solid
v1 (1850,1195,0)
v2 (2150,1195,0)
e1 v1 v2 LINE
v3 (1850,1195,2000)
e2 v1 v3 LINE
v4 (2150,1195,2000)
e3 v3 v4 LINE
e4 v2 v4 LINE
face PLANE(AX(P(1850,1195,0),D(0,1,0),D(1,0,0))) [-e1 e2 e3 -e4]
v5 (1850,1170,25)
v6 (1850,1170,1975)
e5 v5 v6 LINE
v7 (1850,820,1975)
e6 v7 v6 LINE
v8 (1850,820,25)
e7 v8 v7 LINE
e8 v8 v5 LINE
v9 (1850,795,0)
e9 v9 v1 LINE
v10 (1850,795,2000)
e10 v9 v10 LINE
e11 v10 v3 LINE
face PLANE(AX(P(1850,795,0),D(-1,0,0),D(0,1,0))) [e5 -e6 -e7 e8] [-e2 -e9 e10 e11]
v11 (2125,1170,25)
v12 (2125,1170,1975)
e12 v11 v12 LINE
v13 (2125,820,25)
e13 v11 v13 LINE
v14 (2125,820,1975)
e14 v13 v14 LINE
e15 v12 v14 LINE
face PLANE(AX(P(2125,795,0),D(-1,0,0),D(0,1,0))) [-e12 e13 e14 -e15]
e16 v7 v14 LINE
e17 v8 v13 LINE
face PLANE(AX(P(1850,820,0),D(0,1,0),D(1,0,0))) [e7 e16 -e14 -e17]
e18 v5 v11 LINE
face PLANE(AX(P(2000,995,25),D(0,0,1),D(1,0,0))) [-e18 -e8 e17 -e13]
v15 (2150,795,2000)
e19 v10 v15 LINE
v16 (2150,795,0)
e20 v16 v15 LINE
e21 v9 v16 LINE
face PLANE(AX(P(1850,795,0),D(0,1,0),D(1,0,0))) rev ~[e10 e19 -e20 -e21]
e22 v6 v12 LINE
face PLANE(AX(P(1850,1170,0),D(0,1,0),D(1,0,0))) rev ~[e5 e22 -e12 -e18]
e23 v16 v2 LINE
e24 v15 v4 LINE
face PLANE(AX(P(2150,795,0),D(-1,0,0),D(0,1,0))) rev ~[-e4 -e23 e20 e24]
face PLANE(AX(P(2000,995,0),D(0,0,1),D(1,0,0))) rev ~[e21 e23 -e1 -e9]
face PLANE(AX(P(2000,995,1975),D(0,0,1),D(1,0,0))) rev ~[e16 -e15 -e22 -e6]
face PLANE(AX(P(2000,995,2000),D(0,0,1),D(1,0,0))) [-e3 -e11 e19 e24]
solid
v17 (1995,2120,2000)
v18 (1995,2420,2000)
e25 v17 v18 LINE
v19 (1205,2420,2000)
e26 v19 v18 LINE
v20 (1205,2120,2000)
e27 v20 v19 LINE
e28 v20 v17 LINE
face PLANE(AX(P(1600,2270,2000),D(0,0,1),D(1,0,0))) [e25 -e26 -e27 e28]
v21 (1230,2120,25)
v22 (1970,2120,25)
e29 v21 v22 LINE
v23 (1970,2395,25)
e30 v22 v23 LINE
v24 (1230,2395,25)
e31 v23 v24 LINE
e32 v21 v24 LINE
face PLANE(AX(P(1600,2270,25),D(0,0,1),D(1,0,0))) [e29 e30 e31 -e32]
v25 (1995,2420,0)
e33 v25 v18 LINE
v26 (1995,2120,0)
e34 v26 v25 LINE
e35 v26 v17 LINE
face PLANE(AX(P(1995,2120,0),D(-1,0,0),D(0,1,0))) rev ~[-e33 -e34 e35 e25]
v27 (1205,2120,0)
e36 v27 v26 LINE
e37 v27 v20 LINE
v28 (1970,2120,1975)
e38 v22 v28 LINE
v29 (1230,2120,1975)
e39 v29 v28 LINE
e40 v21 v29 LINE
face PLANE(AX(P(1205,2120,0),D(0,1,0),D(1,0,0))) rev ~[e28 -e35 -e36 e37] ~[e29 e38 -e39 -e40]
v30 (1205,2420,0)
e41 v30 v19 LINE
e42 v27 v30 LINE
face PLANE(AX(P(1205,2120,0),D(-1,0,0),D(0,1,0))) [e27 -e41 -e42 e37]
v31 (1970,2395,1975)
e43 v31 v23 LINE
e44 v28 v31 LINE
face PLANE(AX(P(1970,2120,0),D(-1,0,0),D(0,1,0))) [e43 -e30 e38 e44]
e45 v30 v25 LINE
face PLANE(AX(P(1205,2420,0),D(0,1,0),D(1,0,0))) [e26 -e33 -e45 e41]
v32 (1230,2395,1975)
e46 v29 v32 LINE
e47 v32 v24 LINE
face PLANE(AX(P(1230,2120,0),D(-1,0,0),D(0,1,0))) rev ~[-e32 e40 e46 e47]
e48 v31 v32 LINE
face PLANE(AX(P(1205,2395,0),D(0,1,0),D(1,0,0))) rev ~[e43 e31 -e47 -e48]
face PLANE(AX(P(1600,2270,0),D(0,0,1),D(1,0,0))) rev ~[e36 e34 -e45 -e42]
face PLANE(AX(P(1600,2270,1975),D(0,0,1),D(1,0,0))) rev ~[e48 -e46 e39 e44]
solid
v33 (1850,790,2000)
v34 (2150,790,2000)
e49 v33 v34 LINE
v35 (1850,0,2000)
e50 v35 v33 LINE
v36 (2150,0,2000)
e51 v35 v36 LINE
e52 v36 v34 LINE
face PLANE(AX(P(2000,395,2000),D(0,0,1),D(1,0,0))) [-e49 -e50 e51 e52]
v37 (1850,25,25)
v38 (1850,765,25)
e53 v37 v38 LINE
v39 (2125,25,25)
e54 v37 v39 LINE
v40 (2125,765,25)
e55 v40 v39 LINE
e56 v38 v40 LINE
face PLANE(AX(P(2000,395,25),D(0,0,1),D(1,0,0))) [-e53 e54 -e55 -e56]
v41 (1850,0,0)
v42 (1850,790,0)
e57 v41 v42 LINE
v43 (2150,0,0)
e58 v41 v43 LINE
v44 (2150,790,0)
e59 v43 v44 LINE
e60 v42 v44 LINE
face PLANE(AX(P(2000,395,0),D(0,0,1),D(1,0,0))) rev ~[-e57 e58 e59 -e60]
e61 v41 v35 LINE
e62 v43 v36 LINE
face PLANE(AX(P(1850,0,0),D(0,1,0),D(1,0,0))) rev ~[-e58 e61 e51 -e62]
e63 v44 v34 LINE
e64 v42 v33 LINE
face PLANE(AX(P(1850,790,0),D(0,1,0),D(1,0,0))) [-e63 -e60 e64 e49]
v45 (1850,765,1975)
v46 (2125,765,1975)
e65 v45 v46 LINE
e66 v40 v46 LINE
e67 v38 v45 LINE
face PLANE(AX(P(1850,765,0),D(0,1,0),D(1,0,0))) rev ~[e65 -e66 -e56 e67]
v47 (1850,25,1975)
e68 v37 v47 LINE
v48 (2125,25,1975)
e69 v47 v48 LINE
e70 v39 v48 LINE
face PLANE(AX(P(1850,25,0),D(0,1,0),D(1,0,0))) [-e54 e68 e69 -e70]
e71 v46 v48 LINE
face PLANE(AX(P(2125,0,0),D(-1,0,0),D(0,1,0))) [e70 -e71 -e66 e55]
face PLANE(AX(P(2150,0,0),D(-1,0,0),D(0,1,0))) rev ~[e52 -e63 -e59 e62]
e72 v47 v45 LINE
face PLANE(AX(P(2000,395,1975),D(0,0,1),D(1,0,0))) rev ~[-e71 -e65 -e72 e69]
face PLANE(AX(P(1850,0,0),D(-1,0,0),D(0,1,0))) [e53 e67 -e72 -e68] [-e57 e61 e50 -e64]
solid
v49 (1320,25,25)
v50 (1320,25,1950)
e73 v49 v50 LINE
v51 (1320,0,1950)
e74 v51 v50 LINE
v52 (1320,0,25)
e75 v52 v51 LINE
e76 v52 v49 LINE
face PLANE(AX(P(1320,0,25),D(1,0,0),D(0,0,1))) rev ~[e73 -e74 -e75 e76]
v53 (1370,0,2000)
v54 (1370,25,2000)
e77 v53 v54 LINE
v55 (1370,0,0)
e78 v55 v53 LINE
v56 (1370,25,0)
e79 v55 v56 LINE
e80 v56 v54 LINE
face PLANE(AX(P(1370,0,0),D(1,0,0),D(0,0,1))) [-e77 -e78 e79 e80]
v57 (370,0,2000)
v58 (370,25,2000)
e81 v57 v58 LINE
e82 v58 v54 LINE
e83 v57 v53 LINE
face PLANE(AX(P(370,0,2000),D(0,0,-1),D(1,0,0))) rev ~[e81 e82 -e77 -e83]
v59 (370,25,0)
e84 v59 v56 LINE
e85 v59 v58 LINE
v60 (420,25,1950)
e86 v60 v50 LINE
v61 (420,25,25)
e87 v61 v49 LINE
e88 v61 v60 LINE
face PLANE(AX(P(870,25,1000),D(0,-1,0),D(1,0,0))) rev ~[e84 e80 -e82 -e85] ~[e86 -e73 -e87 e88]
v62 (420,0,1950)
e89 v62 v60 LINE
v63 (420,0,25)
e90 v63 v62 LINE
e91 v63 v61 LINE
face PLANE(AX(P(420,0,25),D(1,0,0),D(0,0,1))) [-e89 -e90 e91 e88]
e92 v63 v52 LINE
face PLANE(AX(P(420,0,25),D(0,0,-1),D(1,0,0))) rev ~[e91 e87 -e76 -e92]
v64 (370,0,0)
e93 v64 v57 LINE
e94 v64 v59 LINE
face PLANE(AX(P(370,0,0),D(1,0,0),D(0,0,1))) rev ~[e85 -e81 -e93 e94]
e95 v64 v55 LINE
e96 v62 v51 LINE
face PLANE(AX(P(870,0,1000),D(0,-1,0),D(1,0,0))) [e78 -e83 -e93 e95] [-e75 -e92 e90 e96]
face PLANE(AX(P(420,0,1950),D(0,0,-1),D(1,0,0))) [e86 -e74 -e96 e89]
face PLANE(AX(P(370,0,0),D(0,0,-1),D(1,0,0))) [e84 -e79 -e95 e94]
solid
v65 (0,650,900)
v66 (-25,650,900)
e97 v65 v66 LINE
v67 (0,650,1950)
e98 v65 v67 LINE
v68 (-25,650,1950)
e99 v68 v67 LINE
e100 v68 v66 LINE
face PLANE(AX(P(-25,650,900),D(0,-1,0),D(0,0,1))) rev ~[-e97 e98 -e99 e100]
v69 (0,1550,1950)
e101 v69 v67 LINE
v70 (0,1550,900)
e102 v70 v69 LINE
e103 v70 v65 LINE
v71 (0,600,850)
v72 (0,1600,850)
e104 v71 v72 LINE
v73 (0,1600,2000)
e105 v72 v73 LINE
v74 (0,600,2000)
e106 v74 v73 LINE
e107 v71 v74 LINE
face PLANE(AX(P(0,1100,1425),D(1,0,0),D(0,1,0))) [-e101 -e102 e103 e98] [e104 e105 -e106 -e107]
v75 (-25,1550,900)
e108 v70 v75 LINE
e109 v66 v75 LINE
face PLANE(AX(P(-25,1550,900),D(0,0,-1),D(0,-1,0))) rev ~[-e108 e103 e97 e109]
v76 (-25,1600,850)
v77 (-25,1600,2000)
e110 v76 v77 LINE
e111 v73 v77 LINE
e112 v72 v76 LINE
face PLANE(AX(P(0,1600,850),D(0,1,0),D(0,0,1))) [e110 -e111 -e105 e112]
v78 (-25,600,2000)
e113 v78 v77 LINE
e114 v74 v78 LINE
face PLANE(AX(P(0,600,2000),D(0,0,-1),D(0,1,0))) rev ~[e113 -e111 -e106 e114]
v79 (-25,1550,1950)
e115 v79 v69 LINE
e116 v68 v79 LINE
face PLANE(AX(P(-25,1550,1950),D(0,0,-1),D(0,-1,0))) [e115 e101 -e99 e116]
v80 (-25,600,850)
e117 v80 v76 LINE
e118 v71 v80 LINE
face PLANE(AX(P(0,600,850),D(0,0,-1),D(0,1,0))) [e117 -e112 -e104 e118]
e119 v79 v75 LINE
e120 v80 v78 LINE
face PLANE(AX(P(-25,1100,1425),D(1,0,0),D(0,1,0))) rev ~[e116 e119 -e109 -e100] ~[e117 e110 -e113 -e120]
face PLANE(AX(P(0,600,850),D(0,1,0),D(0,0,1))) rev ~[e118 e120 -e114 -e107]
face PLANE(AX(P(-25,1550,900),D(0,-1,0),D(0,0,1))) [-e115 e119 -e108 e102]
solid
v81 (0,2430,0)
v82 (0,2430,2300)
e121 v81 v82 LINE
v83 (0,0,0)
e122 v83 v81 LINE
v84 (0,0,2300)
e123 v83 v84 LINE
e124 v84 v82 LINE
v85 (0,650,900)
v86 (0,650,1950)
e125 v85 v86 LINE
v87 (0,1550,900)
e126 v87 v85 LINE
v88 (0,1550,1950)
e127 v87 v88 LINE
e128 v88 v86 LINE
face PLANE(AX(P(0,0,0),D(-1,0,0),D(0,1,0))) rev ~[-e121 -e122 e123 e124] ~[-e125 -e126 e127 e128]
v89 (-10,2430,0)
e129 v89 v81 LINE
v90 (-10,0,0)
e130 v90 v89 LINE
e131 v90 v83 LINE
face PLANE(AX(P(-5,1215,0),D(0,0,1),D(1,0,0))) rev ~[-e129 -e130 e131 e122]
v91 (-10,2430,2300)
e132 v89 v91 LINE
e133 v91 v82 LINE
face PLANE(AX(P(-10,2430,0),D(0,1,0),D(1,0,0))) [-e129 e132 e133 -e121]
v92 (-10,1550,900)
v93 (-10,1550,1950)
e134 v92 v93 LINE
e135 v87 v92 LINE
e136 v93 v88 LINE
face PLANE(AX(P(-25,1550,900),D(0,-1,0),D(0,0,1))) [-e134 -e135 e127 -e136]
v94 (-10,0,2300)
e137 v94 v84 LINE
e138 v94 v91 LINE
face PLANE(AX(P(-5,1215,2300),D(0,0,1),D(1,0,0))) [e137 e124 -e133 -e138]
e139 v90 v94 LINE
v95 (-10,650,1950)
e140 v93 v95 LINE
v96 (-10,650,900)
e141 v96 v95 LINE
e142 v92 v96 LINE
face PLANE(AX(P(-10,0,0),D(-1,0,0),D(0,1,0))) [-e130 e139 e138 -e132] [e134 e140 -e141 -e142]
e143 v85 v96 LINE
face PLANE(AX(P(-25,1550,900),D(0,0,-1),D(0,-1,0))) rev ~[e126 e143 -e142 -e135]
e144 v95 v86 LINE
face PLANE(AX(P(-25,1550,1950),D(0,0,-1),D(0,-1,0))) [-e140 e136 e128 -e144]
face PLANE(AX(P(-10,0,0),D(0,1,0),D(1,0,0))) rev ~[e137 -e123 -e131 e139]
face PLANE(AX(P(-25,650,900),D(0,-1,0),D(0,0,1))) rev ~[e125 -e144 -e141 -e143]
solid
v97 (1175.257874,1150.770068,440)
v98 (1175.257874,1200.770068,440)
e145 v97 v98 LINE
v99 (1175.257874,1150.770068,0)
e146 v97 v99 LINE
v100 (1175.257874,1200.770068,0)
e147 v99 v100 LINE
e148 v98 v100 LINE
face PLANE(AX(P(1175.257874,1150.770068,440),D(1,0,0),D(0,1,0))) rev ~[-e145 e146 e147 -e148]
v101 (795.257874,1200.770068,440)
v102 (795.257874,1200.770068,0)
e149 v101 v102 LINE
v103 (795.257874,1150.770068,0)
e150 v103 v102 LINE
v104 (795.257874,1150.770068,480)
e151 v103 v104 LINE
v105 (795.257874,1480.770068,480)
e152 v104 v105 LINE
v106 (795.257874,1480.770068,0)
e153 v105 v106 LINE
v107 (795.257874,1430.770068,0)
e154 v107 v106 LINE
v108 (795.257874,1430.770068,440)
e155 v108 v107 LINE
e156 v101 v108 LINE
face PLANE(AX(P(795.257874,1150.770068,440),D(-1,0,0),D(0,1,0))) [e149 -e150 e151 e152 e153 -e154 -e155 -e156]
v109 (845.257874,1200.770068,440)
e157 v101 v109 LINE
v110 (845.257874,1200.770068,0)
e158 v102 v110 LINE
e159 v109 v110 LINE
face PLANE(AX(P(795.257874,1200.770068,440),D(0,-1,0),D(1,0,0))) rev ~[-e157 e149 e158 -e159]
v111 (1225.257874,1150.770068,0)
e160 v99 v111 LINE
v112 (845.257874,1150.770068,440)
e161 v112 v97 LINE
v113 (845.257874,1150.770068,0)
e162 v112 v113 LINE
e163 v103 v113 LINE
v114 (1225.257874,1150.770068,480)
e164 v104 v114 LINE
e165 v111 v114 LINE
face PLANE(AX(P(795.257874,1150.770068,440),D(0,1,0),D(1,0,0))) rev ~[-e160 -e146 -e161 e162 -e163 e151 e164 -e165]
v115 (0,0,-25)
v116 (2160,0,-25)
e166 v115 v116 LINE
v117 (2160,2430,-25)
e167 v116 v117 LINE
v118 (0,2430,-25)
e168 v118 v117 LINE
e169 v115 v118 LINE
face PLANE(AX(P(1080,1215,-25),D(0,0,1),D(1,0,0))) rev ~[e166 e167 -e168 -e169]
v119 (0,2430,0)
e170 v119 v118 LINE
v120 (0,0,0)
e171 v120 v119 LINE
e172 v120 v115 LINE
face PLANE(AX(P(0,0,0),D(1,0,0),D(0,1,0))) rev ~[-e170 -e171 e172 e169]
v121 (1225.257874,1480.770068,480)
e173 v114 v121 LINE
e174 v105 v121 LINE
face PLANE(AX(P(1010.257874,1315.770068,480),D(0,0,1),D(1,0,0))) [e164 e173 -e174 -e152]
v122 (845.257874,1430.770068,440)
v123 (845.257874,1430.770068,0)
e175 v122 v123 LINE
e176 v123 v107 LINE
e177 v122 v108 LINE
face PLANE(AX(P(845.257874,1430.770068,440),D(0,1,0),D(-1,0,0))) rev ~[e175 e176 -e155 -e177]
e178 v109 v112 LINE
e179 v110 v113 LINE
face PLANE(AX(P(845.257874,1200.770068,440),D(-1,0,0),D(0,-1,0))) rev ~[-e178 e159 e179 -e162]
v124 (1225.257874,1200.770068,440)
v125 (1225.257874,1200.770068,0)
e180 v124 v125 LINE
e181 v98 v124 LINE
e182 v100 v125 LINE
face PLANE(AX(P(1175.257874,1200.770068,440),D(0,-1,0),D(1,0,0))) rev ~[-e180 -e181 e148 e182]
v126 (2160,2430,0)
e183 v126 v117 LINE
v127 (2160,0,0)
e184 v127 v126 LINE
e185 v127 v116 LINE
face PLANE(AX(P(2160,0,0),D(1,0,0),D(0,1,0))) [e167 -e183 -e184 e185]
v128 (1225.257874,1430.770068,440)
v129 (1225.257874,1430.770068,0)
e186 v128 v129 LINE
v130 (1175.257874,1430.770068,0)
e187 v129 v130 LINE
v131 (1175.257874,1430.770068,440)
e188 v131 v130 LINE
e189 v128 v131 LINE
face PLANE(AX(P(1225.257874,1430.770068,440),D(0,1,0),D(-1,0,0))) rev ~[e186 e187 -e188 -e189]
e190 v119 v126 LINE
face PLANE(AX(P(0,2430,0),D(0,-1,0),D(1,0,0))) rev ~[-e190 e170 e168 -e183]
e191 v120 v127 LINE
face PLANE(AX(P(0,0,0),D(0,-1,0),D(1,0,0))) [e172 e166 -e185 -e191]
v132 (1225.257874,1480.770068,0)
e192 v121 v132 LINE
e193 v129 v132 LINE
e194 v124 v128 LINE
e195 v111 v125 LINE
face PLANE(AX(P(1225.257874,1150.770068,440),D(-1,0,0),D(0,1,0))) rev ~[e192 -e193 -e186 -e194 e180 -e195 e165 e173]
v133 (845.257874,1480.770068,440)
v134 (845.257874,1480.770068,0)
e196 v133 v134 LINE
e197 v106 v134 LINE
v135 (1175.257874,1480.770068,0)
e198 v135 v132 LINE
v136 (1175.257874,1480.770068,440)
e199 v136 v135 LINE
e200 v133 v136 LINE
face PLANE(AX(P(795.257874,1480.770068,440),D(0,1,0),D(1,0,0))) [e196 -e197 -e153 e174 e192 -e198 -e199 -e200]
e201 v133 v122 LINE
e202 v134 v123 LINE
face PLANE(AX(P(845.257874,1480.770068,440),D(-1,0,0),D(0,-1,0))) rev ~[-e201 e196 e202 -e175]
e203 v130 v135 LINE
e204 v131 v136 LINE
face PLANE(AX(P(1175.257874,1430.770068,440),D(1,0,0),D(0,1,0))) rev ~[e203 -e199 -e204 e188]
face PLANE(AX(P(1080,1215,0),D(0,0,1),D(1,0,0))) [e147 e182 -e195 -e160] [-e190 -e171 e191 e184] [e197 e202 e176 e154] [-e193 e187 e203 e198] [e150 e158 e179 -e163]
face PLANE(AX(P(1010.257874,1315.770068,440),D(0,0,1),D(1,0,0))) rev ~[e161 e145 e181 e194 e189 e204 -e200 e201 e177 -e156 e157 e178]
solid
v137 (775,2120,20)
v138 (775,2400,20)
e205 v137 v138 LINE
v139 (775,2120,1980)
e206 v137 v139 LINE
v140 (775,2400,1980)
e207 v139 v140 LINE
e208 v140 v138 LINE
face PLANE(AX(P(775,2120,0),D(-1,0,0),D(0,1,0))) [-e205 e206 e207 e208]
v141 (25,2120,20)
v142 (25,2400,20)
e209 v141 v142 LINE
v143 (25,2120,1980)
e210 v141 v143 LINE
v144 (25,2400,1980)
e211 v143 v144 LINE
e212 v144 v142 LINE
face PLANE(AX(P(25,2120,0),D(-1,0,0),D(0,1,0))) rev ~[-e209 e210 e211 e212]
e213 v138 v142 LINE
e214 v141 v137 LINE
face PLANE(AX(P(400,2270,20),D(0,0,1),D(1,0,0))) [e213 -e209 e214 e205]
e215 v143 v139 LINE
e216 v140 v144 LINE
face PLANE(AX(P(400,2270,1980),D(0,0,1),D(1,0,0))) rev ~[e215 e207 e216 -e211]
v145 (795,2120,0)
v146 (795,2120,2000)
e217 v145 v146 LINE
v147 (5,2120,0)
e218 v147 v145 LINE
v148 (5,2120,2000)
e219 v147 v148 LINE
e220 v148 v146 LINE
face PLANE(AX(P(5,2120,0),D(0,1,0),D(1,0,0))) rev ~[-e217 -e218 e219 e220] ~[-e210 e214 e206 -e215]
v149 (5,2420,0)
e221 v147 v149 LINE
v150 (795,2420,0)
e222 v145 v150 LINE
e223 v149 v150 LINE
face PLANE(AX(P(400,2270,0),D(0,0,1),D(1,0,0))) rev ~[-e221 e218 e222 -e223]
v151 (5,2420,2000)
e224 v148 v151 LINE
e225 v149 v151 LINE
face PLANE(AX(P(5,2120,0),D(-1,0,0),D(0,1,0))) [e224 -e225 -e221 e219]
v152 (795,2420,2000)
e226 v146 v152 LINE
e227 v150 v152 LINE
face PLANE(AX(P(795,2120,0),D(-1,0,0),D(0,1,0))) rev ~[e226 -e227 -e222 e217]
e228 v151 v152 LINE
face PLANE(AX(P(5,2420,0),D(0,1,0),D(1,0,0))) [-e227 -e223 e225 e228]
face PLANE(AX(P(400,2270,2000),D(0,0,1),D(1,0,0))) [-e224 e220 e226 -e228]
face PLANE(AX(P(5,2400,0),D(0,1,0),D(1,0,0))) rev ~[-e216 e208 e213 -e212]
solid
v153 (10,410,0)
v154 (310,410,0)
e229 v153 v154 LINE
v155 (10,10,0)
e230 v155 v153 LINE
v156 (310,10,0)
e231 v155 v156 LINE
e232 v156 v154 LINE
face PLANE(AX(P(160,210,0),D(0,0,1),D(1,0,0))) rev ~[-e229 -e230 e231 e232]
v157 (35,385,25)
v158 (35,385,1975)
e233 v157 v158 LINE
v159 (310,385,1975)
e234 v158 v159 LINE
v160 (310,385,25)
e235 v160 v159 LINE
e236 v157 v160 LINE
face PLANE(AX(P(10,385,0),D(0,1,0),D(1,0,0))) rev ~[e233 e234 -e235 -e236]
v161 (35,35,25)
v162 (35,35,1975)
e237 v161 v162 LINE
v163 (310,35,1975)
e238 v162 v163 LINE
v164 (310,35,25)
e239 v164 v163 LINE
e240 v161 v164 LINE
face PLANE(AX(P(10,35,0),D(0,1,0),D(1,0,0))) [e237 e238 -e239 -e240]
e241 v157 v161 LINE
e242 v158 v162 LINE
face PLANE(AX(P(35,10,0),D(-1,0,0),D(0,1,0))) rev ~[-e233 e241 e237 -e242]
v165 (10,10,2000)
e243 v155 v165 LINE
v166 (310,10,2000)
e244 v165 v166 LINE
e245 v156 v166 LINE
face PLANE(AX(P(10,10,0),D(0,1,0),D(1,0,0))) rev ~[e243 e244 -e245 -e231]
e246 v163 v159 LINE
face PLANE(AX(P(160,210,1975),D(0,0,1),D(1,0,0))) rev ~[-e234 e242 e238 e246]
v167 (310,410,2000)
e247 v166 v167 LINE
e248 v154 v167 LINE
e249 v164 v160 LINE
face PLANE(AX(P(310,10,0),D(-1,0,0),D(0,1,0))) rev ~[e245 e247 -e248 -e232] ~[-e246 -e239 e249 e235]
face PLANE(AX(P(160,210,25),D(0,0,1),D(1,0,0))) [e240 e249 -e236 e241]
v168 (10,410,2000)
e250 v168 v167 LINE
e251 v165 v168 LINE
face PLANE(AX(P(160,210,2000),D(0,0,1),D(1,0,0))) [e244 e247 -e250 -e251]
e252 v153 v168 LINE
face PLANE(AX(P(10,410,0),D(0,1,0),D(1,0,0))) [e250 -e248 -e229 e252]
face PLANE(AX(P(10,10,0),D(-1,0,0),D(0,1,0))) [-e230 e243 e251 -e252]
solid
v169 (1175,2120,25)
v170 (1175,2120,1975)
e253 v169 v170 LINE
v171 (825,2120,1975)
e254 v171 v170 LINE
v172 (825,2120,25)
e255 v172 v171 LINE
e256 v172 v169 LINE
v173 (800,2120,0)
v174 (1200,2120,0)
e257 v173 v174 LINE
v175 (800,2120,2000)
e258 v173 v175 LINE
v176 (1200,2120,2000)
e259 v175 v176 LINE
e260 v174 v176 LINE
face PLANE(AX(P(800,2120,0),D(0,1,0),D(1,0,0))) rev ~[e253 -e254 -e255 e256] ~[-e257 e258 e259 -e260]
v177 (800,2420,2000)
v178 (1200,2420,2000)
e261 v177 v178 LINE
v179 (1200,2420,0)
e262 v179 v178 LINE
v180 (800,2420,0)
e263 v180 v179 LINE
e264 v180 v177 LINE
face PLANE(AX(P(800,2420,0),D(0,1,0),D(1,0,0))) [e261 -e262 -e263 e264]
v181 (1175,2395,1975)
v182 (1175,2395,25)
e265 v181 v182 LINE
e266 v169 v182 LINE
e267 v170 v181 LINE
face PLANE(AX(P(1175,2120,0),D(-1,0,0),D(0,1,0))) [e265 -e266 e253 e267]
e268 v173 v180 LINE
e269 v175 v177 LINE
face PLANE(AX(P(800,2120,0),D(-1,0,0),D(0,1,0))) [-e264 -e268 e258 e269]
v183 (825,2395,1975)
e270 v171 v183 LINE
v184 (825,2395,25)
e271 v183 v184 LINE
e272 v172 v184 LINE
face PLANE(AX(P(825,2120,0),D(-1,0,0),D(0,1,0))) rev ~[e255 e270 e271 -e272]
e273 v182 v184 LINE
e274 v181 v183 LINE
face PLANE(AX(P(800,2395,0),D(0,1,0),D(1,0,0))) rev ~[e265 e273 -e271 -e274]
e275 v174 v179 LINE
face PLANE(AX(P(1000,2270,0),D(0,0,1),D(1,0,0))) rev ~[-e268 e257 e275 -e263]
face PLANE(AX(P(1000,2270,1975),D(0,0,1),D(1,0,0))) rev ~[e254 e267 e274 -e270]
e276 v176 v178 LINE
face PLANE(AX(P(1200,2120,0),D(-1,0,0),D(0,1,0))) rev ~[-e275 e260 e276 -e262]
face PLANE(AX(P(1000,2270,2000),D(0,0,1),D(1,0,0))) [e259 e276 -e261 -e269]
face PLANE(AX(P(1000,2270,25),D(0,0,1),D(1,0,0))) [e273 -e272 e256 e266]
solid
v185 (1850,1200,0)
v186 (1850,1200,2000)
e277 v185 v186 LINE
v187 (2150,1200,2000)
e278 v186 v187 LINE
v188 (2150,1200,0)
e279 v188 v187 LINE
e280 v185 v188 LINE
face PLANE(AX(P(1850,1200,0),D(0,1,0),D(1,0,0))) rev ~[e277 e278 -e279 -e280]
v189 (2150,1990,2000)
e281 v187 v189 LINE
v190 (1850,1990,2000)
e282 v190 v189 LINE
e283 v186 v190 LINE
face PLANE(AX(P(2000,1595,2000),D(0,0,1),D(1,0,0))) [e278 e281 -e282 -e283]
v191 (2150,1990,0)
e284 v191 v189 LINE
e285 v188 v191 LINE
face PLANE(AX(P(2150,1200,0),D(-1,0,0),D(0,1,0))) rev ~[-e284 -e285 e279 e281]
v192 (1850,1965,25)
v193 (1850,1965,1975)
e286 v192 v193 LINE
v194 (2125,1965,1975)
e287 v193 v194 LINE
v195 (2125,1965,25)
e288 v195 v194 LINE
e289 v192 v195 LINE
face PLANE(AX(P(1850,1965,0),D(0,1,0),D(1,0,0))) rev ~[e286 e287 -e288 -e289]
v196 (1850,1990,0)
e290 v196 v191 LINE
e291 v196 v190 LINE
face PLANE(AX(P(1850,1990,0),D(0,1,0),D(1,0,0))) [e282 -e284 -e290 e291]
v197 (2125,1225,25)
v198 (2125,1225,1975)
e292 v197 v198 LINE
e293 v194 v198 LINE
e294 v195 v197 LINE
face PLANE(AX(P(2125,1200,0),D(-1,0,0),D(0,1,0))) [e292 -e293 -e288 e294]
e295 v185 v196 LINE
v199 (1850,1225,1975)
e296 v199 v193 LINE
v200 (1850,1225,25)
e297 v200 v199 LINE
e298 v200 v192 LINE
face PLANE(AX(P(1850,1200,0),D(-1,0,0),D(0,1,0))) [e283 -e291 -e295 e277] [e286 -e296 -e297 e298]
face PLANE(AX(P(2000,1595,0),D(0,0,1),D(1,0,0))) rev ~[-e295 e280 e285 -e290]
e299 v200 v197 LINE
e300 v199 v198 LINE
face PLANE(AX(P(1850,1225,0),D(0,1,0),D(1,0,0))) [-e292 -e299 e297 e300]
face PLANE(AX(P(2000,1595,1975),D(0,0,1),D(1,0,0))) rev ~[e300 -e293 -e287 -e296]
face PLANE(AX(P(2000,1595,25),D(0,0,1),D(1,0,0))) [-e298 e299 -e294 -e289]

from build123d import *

# Parameters (mm, degrees)
F3_W      = 790
F3_H      = 300
F4_DEPTH  = 2000
F2_W      = 400
F2_H      = 300
F5_DEPTH  = 2000
F1_W      = 300
F1_H      = 790
F6_DEPTH  = 2000
F7_W      = 300
F7_H      = 400
F8_DEPTH  = 2000
F9_W      = 300
F9_H      = 790
F10_DEPTH = 2000
F11_T     = -20
F12_T     = -25
F13_W     = 300
F13_H     = 400
F14_DEPTH = 2000
F15_T     = -25
F17_W     = 10
F17_H     = 2430
F18_DEPTH = 2300
F16_W     = 1000
F16_H     = 2000
F19_DEPTH = 25
F20_W     = 1000
F20_H     = 1150
F21_DEPTH = 25
F22_W     = 900
F22_H     = 1925
F23_DEPTH = 25
F24_W     = 900
F24_H     = 1050
F25_DEPTH = 25
F26_W     = 790
F26_H     = 300
F27_DEPTH = 2000
F28_T     = -25
F29_T     = -25
F29_2_T   = -25
F29_3_T   = -25
F0_W      = 2160
F0_H      = 2430
F30_DEPTH = 25
F31_W     = 430
F31_H     = 330
F32_DEPTH = 440
F34_DEPTH = 440
F36_W     = 430
F36_H     = 330
F37_DEPTH = 40


with BuildPart() as f4:
    # F3 (on Top) → F4 (new body)
    with BuildSketch(Plane.XY):
        with Locations((400, 2270)):
            Rectangle(F3_W, F3_H)
    extrude(amount=F4_DEPTH)

    # F11
    f11_openings = [f4.faces().sort_by_distance(p)[0] for p in [
        (400, 2120, 1000),
    ]]
    offset(amount=F11_T, openings=f11_openings)


with BuildPart() as f5:
    # F2 (on Top) → F5 (new body)
    with BuildSketch(Plane.XY):
        with Locations((1000, 2270)):
            Rectangle(F2_W, F2_H)
    extrude(amount=F5_DEPTH)

    # F12
    f12_openings = [f5.faces().sort_by_distance(p)[0] for p in [
        (1000, 2120, 1000),
    ]]
    offset(amount=F12_T, openings=f12_openings)


with BuildPart() as f6:
    # F1 (on Top) → F6 (new body)
    with BuildSketch(Plane.XY):
        with Locations((2000, 1595)):
            Rectangle(F1_W, F1_H)
    extrude(amount=F6_DEPTH)

    # F29
    f29_openings = [f6.faces().sort_by_distance(p)[0] for p in [
        (1850, 1595, 1000),
    ]]
    offset(amount=F29_T, openings=f29_openings)


with BuildPart() as f8:
    # F7 (on Top) → F8 (new body)
    with BuildSketch(Plane.XY):
        with Locations((2000, 995)):
            Rectangle(F7_W, F7_H)
    extrude(amount=F8_DEPTH)

    # F29#2
    f29_2_openings = [f8.faces().sort_by_distance(p)[0] for p in [
        (1850, 995, 1000),
    ]]
    offset(amount=F29_2_T, openings=f29_2_openings)


with BuildPart() as f10:
    # F9 (on Top) → F10 (new body)
    with BuildSketch(Plane.XY):
        with Locations((2000, 395)):
            Rectangle(F9_W, F9_H)
    extrude(amount=F10_DEPTH)

    # F29#3
    f29_3_openings = [f10.faces().sort_by_distance(p)[0] for p in [
        (1850, 395, 1000),
    ]]
    offset(amount=F29_3_T, openings=f29_3_openings)


with BuildPart() as f14:
    # F13 (on Top) → F14 (new body)
    with BuildSketch(Plane.XY):
        with Locations((160, 210)):
            Rectangle(F13_W, F13_H)
    extrude(amount=F14_DEPTH)

    # F15
    f15_openings = [f14.faces().sort_by_distance(p)[0] for p in [
        (310, 210, 1000),
    ]]
    offset(amount=F15_T, openings=f15_openings)


with BuildPart() as f18:
    # F17 (on face) → F18 (new body)
    with BuildSketch(Plane.XY):
        with Locations((-5, 1215)):
            Rectangle(F17_W, F17_H)
    extrude(amount=F18_DEPTH)


with BuildPart() as f19:
    # F16 (on Front) → F19 (new body)
    with BuildSketch(Plane.XZ):
        with Locations((870, 1000)):
            Rectangle(F16_W, F16_H)
    extrude(amount=-F19_DEPTH)

    # F22 (on face) → F23 (cut)
    with BuildSketch(Plane.XZ):
        with Locations((870, 987.5)):
            Rectangle(F22_W, F22_H)
    extrude(amount=-F23_DEPTH, mode=Mode.SUBTRACT)


with BuildPart() as f21:
    # F20 (on Right) → F21 (new body)
    with BuildSketch(Plane.YZ):
        with Locations((1100, 1425)):
            Rectangle(F20_W, F20_H)
    extrude(amount=-F21_DEPTH)


with BuildPart() as f25_tool:
    # F24 (on face) → F25 (new body, symmetric)
    with BuildSketch(Plane(origin=(-25, 0, 0), x_dir=(0, -1, 0), z_dir=(-1, 0, 0))):
        with Locations((-1100, 1425)):
            Rectangle(F24_W, F24_H)
    extrude(amount=F25_DEPTH, both=True)


with BuildPart() as f18_1:
    add(f18.part)

    # F25: cut by f25_tool
    add(f25_tool.part, mode=Mode.SUBTRACT)


with BuildPart() as f21_1:
    add(f21.part)

    # F25: cut by f25_tool
    add(f25_tool.part, mode=Mode.SUBTRACT)


with BuildPart() as f27:
    # F26 (on face) → F27 (new body)
    with BuildSketch(Plane.XY):
        with Locations((1600, 2270)):
            Rectangle(F26_W, F26_H)
    extrude(amount=F27_DEPTH)

    # F28
    f28_openings = [f27.faces().sort_by_distance(p)[0] for p in [
        (1600, 2120, 1000),
    ]]
    offset(amount=F28_T, openings=f28_openings)


with BuildPart() as f30:
    # F0 (on Top) → F30 (new body)
    with BuildSketch(Plane.XY):
        with Locations((1080, 1215)):
            Rectangle(F0_W, F0_H)
    extrude(amount=-F30_DEPTH)

    # F31 (on face) → F32 (join)
    with BuildSketch(Plane.XY):
        with Locations((1010.2578735352, 1315.7700681686)):
            Rectangle(F31_W, F31_H)
    extrude(amount=F32_DEPTH)

    # F33 (on face) → F34 (cut)
    with BuildSketch(Plane.XY.offset(440)):
        Polygon((1175.2578735352, 1480.7700681686), (845.2578735352, 1480.7700681686), (845.2578735352, 1430.7700681686), (795.2578735352, 1430.7700681686), (795.2578735352, 1200.7700681686), (845.2578735352, 1200.7700681686), (845.2578735352, 1150.7700681686), (1175.2578735352, 1150.7700681686), (1175.2578735352, 1200.7700681686), (1225.2578735352, 1200.7700681686), (1225.2578735352, 1430.7700681686), (1175.2578735352, 1430.7700681686), align=None)
    extrude(amount=-F34_DEPTH, mode=Mode.SUBTRACT)

    # F36 (on mid) → F37 (join)
    with BuildSketch(Plane.XY.offset(440)):
        with Locations((1010.2578735352, 1315.7700681686)):
            Rectangle(F36_W, F36_H)
    extrude(amount=F37_DEPTH)


solid = Compound([f4.part, f5.part, f6.part, f8.part, f10.part, f14.part, f19.part, f18_1.part, f21_1.part, f27.part, f30.part])
